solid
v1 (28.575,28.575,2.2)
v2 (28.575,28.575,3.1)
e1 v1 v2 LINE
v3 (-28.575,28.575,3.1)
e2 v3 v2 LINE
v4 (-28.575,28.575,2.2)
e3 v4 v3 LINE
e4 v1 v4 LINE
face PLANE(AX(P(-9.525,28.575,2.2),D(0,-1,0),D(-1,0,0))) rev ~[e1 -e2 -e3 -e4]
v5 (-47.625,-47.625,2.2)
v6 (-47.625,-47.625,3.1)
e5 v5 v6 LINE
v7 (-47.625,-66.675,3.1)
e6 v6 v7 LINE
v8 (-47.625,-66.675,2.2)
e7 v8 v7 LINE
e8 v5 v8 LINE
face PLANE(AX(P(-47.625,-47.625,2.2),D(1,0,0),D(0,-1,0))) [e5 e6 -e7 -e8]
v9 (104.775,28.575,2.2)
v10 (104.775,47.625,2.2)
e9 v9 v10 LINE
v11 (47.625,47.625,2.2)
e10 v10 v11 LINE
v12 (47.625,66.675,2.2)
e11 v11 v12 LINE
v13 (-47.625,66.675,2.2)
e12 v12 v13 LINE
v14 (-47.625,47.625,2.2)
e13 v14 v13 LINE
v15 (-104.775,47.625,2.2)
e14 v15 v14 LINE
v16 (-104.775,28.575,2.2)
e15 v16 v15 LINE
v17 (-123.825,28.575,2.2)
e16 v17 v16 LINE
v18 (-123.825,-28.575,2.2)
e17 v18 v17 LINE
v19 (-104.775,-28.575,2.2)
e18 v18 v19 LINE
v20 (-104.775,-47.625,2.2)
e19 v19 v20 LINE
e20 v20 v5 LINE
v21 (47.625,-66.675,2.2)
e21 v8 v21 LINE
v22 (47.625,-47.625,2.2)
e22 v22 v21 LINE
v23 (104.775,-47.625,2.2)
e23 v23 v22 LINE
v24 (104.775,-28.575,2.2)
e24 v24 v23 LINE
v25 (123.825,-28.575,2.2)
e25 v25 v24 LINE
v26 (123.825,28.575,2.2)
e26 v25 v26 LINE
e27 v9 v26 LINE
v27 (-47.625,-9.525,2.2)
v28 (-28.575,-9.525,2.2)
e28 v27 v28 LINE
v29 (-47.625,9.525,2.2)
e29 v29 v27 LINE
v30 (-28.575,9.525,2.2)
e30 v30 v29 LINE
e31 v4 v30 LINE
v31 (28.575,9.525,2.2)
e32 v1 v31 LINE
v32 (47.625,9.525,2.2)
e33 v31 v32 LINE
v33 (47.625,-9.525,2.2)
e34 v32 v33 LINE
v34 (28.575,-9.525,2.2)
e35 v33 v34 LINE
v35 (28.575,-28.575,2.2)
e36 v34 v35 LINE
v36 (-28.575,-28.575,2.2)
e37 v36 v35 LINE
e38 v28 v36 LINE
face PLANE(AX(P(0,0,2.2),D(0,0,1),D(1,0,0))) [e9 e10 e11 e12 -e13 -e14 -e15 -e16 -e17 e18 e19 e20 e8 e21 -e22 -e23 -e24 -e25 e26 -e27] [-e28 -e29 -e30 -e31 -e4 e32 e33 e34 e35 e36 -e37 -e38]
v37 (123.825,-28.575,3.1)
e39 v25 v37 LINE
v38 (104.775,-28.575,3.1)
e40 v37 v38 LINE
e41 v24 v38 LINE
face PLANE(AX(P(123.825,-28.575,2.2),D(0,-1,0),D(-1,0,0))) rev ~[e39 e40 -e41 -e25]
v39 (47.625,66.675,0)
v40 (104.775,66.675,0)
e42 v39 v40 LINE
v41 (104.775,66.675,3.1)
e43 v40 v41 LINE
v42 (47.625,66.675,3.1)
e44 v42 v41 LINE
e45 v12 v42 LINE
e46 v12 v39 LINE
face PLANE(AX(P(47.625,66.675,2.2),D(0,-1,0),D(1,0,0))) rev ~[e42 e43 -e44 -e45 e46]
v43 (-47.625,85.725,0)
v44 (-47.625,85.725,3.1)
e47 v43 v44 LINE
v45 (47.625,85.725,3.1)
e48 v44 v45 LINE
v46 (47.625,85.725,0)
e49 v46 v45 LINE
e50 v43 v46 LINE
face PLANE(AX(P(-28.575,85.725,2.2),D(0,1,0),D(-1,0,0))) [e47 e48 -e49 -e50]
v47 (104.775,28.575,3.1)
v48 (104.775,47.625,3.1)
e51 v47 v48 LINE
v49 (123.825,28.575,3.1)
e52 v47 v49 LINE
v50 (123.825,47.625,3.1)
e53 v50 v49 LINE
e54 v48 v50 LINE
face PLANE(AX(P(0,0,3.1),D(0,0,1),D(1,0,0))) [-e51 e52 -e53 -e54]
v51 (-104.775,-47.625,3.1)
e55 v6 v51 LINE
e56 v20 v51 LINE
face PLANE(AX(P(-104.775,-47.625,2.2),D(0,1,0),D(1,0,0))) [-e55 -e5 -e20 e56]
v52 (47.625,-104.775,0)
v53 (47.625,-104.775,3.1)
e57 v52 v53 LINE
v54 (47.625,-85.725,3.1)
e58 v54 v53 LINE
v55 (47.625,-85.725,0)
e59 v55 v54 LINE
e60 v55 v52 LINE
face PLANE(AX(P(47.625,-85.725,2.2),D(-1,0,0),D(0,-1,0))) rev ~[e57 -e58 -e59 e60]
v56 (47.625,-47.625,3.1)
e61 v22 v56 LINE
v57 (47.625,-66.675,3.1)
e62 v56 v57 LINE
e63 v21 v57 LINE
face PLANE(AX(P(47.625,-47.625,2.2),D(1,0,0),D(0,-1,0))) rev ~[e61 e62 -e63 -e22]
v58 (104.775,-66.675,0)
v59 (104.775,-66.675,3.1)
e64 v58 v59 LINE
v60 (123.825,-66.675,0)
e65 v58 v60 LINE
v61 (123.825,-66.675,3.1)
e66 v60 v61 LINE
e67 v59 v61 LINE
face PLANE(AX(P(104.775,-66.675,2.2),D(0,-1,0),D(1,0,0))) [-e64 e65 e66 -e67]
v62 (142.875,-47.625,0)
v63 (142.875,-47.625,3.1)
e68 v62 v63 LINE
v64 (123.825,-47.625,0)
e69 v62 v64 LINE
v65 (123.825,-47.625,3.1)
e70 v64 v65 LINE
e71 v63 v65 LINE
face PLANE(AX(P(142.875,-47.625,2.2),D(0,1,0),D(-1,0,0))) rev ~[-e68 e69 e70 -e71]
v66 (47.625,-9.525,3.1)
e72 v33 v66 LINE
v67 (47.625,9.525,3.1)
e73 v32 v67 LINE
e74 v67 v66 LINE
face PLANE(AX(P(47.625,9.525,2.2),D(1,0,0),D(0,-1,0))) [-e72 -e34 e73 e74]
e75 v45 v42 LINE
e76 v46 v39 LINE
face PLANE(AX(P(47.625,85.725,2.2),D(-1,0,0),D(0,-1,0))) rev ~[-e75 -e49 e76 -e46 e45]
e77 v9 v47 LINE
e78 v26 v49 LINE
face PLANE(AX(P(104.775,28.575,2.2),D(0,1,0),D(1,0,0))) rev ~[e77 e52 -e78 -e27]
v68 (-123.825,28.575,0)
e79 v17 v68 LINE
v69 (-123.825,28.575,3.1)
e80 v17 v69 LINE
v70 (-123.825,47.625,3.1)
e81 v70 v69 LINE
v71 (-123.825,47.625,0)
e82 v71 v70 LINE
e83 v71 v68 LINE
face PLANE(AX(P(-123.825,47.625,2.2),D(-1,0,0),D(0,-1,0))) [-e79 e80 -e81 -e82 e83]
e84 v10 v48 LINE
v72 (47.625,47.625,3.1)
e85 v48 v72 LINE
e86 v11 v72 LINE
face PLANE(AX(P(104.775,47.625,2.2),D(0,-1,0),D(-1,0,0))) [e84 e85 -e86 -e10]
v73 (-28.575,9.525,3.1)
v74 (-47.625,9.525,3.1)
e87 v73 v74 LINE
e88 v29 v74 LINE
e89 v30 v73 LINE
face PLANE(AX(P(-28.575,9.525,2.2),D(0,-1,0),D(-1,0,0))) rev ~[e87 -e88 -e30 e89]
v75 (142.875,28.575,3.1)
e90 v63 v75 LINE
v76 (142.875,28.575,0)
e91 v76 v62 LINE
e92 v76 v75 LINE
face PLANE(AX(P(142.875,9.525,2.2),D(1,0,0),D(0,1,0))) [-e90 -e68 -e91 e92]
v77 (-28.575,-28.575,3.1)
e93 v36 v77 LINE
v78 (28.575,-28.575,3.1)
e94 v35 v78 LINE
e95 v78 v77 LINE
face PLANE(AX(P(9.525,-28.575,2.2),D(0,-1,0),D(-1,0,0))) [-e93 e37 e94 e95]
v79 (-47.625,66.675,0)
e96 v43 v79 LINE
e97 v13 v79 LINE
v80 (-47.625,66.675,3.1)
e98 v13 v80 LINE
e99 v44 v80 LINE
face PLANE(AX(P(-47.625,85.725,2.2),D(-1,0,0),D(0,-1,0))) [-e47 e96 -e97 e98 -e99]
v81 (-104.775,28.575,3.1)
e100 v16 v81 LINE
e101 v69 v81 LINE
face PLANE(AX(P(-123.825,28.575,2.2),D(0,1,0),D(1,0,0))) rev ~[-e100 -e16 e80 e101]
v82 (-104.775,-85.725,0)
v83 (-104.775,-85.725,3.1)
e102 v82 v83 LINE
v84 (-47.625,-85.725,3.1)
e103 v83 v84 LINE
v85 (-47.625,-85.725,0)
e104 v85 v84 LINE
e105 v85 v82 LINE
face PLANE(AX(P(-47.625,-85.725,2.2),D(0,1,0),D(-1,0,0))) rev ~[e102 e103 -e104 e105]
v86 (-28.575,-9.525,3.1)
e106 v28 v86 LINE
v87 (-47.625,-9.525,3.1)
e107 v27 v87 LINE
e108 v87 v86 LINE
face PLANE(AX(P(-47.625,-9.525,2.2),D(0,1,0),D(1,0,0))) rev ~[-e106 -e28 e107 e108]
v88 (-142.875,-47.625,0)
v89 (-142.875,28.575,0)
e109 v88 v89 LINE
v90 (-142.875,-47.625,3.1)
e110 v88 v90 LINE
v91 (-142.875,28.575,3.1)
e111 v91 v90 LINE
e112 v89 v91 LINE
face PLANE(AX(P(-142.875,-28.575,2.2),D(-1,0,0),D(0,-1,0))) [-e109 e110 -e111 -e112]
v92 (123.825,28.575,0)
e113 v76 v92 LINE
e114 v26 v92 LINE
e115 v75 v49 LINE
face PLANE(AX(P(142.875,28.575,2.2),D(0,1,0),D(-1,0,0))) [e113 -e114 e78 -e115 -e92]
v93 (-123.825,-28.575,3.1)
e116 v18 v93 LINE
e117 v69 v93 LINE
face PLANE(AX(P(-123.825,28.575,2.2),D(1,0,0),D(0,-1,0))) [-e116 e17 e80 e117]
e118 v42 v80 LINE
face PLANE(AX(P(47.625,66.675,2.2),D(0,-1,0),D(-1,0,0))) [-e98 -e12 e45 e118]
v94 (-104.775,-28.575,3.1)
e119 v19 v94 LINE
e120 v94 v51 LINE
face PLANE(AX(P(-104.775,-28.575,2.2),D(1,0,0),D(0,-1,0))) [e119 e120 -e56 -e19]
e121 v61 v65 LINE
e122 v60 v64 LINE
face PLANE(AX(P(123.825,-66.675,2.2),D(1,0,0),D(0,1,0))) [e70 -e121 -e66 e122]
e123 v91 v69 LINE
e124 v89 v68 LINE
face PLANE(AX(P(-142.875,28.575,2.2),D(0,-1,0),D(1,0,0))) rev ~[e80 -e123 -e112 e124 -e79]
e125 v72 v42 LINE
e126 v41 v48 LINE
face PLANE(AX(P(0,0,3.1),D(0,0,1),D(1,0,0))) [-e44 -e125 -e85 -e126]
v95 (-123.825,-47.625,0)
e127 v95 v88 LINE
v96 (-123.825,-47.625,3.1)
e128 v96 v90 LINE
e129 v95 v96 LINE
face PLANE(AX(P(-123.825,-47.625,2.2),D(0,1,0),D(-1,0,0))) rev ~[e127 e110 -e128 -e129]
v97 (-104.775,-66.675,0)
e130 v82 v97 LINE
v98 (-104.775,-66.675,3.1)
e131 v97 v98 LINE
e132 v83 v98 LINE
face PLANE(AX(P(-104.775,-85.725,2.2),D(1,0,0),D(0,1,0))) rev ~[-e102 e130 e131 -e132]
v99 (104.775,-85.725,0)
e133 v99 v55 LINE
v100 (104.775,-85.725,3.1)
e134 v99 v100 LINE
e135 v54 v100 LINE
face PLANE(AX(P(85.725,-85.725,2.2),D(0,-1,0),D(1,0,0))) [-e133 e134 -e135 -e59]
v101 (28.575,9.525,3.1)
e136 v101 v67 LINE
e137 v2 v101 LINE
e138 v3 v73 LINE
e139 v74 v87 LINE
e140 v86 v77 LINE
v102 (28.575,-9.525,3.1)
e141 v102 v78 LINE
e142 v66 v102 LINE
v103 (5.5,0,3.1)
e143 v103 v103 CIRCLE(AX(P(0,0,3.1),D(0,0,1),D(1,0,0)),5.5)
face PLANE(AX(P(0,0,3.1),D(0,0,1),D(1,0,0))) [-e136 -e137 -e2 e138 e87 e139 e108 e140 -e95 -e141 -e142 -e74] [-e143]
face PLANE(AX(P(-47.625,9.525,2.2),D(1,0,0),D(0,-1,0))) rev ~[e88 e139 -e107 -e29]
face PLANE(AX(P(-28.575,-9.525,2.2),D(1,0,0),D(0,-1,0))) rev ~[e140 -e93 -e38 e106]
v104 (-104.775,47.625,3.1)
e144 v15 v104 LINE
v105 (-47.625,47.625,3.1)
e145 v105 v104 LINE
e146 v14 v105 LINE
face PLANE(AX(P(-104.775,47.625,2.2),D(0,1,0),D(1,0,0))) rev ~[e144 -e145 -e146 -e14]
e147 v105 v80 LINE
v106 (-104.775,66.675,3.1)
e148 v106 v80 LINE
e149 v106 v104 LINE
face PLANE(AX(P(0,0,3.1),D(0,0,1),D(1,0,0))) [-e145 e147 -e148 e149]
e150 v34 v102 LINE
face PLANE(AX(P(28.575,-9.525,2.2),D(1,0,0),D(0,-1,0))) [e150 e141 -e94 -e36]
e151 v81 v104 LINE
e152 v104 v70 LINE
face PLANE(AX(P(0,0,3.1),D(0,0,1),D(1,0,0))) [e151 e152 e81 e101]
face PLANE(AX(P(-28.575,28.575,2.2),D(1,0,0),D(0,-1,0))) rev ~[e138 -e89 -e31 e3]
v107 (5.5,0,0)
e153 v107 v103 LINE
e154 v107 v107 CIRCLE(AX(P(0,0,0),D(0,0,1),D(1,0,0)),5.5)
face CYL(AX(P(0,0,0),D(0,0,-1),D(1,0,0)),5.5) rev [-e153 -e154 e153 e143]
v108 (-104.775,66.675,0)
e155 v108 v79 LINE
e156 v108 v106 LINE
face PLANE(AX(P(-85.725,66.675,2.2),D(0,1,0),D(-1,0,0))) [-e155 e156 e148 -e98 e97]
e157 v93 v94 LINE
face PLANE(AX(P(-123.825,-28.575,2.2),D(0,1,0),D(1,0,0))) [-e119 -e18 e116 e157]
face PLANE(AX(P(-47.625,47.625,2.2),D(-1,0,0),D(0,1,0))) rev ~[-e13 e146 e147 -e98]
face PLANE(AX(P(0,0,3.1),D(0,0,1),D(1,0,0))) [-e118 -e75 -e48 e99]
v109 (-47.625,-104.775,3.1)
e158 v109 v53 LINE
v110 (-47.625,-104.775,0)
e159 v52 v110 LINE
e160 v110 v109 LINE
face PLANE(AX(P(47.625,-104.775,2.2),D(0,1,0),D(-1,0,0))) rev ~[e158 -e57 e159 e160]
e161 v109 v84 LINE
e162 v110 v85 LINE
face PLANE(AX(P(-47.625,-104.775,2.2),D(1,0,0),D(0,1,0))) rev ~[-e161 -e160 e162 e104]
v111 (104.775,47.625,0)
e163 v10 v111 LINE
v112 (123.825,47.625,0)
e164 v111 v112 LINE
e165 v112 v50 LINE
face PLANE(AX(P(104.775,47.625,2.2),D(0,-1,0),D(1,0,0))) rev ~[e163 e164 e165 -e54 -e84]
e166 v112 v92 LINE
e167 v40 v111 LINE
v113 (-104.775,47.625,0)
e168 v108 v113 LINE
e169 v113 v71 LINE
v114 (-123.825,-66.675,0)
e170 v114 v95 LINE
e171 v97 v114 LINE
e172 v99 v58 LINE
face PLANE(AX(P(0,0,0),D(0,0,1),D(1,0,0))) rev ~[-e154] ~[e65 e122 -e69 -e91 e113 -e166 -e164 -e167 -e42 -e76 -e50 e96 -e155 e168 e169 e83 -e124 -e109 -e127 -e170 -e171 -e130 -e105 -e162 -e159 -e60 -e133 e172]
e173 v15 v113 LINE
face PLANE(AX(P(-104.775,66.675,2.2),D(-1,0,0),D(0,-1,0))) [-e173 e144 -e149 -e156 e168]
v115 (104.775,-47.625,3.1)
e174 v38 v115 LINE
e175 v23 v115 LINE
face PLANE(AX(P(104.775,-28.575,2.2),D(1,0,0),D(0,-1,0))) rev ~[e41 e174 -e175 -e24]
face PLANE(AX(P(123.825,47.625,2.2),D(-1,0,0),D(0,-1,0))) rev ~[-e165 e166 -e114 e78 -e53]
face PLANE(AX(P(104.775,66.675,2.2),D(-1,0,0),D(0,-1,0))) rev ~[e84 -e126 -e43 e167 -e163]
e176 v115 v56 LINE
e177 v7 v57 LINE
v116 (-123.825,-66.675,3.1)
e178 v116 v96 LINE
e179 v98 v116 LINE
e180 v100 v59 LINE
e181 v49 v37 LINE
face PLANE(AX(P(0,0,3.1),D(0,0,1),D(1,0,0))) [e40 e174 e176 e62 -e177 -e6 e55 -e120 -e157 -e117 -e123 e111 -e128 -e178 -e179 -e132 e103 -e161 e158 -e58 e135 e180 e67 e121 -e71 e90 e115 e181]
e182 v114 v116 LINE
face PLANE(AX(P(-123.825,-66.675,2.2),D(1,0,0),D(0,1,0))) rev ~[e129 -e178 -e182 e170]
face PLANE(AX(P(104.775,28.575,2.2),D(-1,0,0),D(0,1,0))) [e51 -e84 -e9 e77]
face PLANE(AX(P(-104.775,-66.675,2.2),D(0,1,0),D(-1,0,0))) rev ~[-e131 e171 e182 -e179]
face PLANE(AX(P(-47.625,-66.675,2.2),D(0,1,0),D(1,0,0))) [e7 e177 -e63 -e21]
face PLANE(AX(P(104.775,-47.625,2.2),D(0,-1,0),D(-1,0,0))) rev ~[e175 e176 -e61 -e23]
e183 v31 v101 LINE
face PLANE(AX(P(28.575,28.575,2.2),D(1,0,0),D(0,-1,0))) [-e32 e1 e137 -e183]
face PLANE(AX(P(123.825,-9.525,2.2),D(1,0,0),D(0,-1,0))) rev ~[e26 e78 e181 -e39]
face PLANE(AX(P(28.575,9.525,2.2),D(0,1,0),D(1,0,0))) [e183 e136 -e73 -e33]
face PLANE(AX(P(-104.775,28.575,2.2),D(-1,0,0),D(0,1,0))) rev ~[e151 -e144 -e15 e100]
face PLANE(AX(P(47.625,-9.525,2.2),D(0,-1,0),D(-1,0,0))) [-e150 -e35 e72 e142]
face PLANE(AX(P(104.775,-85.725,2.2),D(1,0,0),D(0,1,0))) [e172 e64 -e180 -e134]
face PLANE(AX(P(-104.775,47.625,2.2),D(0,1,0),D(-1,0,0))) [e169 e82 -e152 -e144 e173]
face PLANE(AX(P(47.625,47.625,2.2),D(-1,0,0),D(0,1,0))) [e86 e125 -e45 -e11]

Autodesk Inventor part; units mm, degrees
ref_plane "YZ Plane" through (0, 0, 0) normal (1, 0, 0) x (0, 1, 0)
ref_plane "XZ Plane" through (0, 0, 0) normal (0, 1, 0) x (-1, 0, 0)
ref_plane "XY Plane" through (0, 0, 0) normal (0, 0, 1) x (1, 0, 0)
sketch "Sketch1" plane through (0, 0, 0) normal (0, 0, 1) x (1, 0, 0)
  circle A0 centre (0, 0) radius 152.4
  circle A1 centre (0, 0) radius 5.5
  dimension "d0" = 304.8
  dimension "d1" = 11
extrude "Extrusion1" add sketch "Sketch1" along normal blind 2.2
fillet "Fillet1" radius 1.1 2 edges at (-152.4, 0, 0) (-152.4, 0, 2.2)
sketch "Sketch2" plane through (0, 0, 2.2) normal (0, 0, 1) x (1, 0, 0)
  line L0 (206.2137, 42.4617) -> (289.822, 42.4617) construction
  line L1 (289.822, 42.4617) -> (289.822, -13.3654) construction
  line L2 (289.822, -13.3654) -> (206.2137, -13.3654) construction
  line L3 (206.2137, -13.3654) -> (206.2137, 42.4617) construction
  line L4 (9.525, 9.525) -> (-9.525, 9.525)
  line L5 (-9.525, 9.525) -> (-9.525, -9.525)
  line L6 (-9.525, -9.525) -> (9.525, -9.525)
  line L7 (9.525, -9.525) -> (9.525, 9.525)
  line L8 (-123.825, 28.575) -> (-104.775, 28.575)
  line L9 (-85.725, 28.575) -> (-66.675, 28.575)
  line L10 (-85.725, 28.575) -> (-104.775, 28.575)
  line L11 (-9.525, 28.575) -> (-28.575, 28.575)
  line L12 (-47.625, 28.575) -> (-28.575, 28.575)
  line L13 (-47.625, 28.575) -> (-66.675, 28.575)
  line L14 (-9.525, 9.525) -> (-9.525, 28.575)
  line L15 (-9.525, 28.575) -> (9.525, 28.575)
  line L16 (9.525, 28.575) -> (9.525, 9.525)
  line L17 (-9.525, -28.575) -> (-9.525, -9.525)
  line L18 (9.525, -9.525) -> (9.525, -28.575)
  line L19 (-123.825, -47.625) -> (-142.875, -47.625)
  line L20 (-123.825, -47.625) -> (-104.775, -47.625)
  line L21 (-85.725, -47.625) -> (-104.775, -47.625)
  line L22 (-85.725, -47.625) -> (-66.675, -47.625)
  line L23 (-47.625, -47.625) -> (-66.675, -47.625)
  line L24 (-47.625, -47.625) -> (-28.575, -47.625)
  line L25 (-9.525, -47.625) -> (-28.575, -47.625)
  line L26 (-9.525, -28.575) -> (-9.525, -47.625)
  line L27 (9.525, -47.625) -> (9.525, -28.575)
  line L28 (142.875, 28.575) -> (123.825, 28.575)
  line L29 (104.775, 28.575) -> (123.825, 28.575)
  line L30 (104.775, 28.575) -> (85.725, 28.575)
  line L31 (66.675, 28.575) -> (85.725, 28.575)
  line L32 (66.675, 28.575) -> (47.625, 28.575)
  line L33 (28.575, 28.575) -> (47.625, 28.575)
  line L34 (28.575, 28.575) -> (9.525, 28.575)
  line L35 (104.775, -47.625) -> (123.825, -47.625)
  line L36 (104.775, -47.625) -> (85.725, -47.625)
  line L37 (142.875, -47.625) -> (123.825, -47.625)
  line L38 (66.675, -47.625) -> (85.725, -47.625)
  line L39 (66.675, -47.625) -> (47.625, -47.625)
  line L40 (28.575, -47.625) -> (47.625, -47.625)
  line L41 (28.575, -47.625) -> (9.525, -47.625)
  line L42 (0, 9.525) -> (0, -9.525)
  line L43 (-9.525, 0) -> (9.525, 0)
  line L44 (0, 0) -> (-4.1012, 3.8959)
  line L45 (-142.875, 28.575) -> (-123.825, 28.575)
  line L46 (-123.825, 28.575) -> (-123.825, 9.525)
  line L47 (-123.825, 9.525) -> (-142.875, 9.525)
  line L48 (-142.875, 9.525) -> (-142.875, 28.575)
  line L49 (-142.875, -9.525) -> (-123.825, -9.525)
  line L50 (-123.825, -9.525) -> (-123.825, 9.525)
  line L51 (-142.875, 9.525) -> (-142.875, -9.525)
  line L52 (-123.825, -47.625) -> (-123.825, -28.575)
  line L53 (-123.825, -28.575) -> (-142.875, -28.575)
  line L54 (-142.875, -28.575) -> (-142.875, -47.625)
  line L55 (-123.825, -9.525) -> (-123.825, -28.575)
  line L56 (-142.875, -28.575) -> (-142.875, -9.525)
  line L57 (123.825, -47.625) -> (142.875, -47.625)
  line L58 (142.875, 28.575) -> (123.825, 28.575)
  line L59 (123.825, 28.575) -> (123.825, 9.525)
  line L60 (123.825, 9.525) -> (142.875, 9.525)
  line L61 (142.875, 9.525) -> (142.875, 28.575)
  line L62 (123.825, -9.525) -> (123.825, 9.525)
  line L63 (142.875, -9.525) -> (123.825, -9.525)
  line L64 (142.875, 9.525) -> (142.875, -9.525)
  line L65 (123.825, -9.525) -> (123.825, -28.575)
  line L66 (123.825, -47.625) -> (123.825, -28.575)
  line L67 (142.875, -28.575) -> (142.875, -9.525)
  line L68 (123.825, -28.575) -> (142.875, -28.575)
  line L69 (142.875, -28.575) -> (142.875, -47.625)
  line L70 (-123.825, 28.575) -> (-104.775, 28.575)
  line L71 (-104.775, 28.575) -> (-104.775, 47.625)
  line L72 (-104.775, 47.625) -> (-123.825, 47.625)
  line L73 (-123.825, 47.625) -> (-123.825, 28.575)
  line L74 (123.825, 28.575) -> (104.775, 28.575)
  line L75 (104.775, 28.575) -> (104.775, 47.625)
  line L76 (104.775, 47.625) -> (123.825, 47.625)
  line L77 (123.825, 47.625) -> (123.825, 28.575)
  line L78 (123.825, -47.625) -> (104.775, -47.625)
  line L79 (104.775, -47.625) -> (104.775, -66.675)
  line L80 (104.775, -66.675) -> (123.825, -66.675)
  line L81 (123.825, -66.675) -> (123.825, -47.625)
  line L82 (-123.825, -47.625) -> (-104.775, -47.625)
  line L83 (-104.775, -47.625) -> (-104.775, -66.675)
  line L84 (-104.775, -66.675) -> (-123.825, -66.675)
  line L85 (-123.825, -66.675) -> (-123.825, -47.625)
  line L86 (104.775, -66.675) -> (85.725, -66.675)
  line L87 (85.725, -66.675) -> (85.725, -85.725)
  line L88 (85.725, -85.725) -> (104.775, -85.725)
  line L89 (104.775, -85.725) -> (104.775, -66.675)
  line L90 (-104.775, -66.675) -> (-85.725, -66.675)
  line L91 (-85.725, -66.675) -> (-85.725, -85.725)
  line L92 (-85.725, -85.725) -> (-104.775, -85.725)
  line L93 (-104.775, -85.725) -> (-104.775, -66.675)
  line L94 (-66.675, -66.675) -> (-85.725, -66.675)
  line L95 (-85.725, -85.725) -> (-66.675, -85.725)
  line L96 (-66.675, -85.725) -> (-66.675, -66.675)
  line L97 (-47.625, -66.675) -> (-47.625, -85.725)
  line L98 (-47.625, -85.725) -> (-66.675, -85.725)
  line L99 (-66.675, -66.675) -> (-47.625, -66.675)
  line L100 (66.675, -66.675) -> (85.725, -66.675)
  line L101 (85.725, -85.725) -> (66.675, -85.725)
  line L102 (66.675, -85.725) -> (66.675, -66.675)
  line L103 (47.625, -66.675) -> (47.625, -85.725)
  line L104 (66.675, -66.675) -> (47.625, -66.675)
  line L105 (47.625, -85.725) -> (66.675, -85.725)
  line L106 (-47.625, -85.725) -> (-28.575, -85.725)
  line L107 (-28.575, -85.725) -> (-28.575, -104.775)
  line L108 (-28.575, -104.775) -> (-47.625, -104.775)
  line L109 (-47.625, -104.775) -> (-47.625, -85.725)
  line L110 (-9.525, -85.725) -> (-28.575, -85.725)
  line L111 (-28.575, -104.775) -> (-9.525, -104.775)
  line L112 (-9.525, -104.775) -> (-9.525, -85.725)
  line L113 (28.575, -85.725) -> (9.525, -85.725)
  line L114 (9.525, -85.725) -> (9.525, -104.775)
  line L115 (9.525, -104.775) -> (28.575, -104.775)
  line L116 (28.575, -104.775) -> (28.575, -85.725)
  line L117 (-9.525, -85.725) -> (9.525, -85.725)
  line L118 (9.525, -104.775) -> (-9.525, -104.775)
  line L119 (28.575, -85.725) -> (47.625, -85.725)
  line L120 (47.625, -85.725) -> (47.625, -104.775)
  line L121 (47.625, -104.775) -> (28.575, -104.775)
  line L122 (-104.775, 47.625) -> (-85.725, 47.625)
  line L123 (-85.725, 47.625) -> (-85.725, 66.675)
  line L124 (-85.725, 66.675) -> (-104.775, 66.675)
  line L125 (-104.775, 66.675) -> (-104.775, 47.625)
  line L126 (104.775, 47.625) -> (85.725, 47.625)
  line L127 (85.725, 47.625) -> (85.725, 66.675)
  line L128 (85.725, 66.675) -> (104.775, 66.675)
  line L129 (104.775, 66.675) -> (104.775, 47.625)
  line L130 (-66.675, 47.625) -> (-85.725, 47.625)
  line L131 (-85.725, 66.675) -> (-66.675, 66.675)
  line L132 (-66.675, 66.675) -> (-66.675, 47.625)
  line L133 (-47.625, 47.625) -> (-47.625, 66.675)
  line L134 (-66.675, 47.625) -> (-47.625, 47.625)
  line L135 (-47.625, 66.675) -> (-66.675, 66.675)
  line L136 (66.675, 47.625) -> (85.725, 47.625)
  line L137 (85.725, 66.675) -> (66.675, 66.675)
  line L138 (66.675, 66.675) -> (66.675, 47.625)
  line L139 (47.625, 47.625) -> (47.625, 66.675)
  line L140 (66.675, 47.625) -> (47.625, 47.625)
  line L141 (47.625, 66.675) -> (66.675, 66.675)
  line L142 (-47.625, 66.675) -> (-28.575, 66.675)
  line L143 (-28.575, 66.675) -> (-28.575, 85.725)
  line L144 (-28.575, 85.725) -> (-47.625, 85.725)
  line L145 (-47.625, 85.725) -> (-47.625, 66.675)
  line L146 (47.625, 66.675) -> (28.575, 66.675)
  line L147 (28.575, 66.675) -> (28.575, 85.725)
  line L148 (28.575, 85.725) -> (47.625, 85.725)
  line L149 (47.625, 85.725) -> (47.625, 66.675)
  line L150 (-9.525, 66.675) -> (-28.575, 66.675)
  line L151 (-28.575, 85.725) -> (-9.525, 85.725)
  line L152 (-9.525, 85.725) -> (-9.525, 66.675)
  line L153 (28.575, 66.675) -> (9.525, 66.675)
  line L154 (9.525, 66.675) -> (9.525, 85.725)
  line L155 (9.525, 85.725) -> (28.575, 85.725)
  line L156 (28.575, 85.725) -> (28.575, 66.675)
  line L157 (-9.525, 66.675) -> (9.525, 66.675)
  line L158 (9.525, 85.725) -> (-9.525, 85.725)
  circle A0 centre (0, 0) radius 225.16
  point P0 (-123.825, -9.525)
  point P1 (-123.825, -47.625)
  point P2 (123.825, -9.525)
  dimension "d22" = 19.05
  dimension "d23" = 19.05
  dimension "d29" = 19.05
  dimension "d30" = 19.05
  dimension "d31" = 19.05
  dimension "d32" = 19.05
  dimension "d33" = 19.05
  dimension "d34" = 19.05
  dimension "d35" = 19.05
  dimension "d36" = 19.05
  dimension "d39" = 19.05
  dimension "d40" = 19.05
  dimension "d45" = 19.05
  dimension "d46" = 19.05
  dimension "d50" = 19.05
  dimension "d51" = 19.05
  dimension "d52" = 19.05
  dimension "d53" = 19.05
  dimension "d58" = 19.05
  dimension "d59" = 19.05
  dimension "d60" = 19.05
  dimension "d61" = 19.05
extrude "Extrusion2" cut sketch "Sketch2" against normal blind 25.4
sketch "Sketch3" plane through (0, 0, 2.2) normal (0, 0, 1) x (1, 0, 0)
  line L0 (194.8549, 38.1597) -> (278.4632, 38.1597) construction
  line L1 (278.4632, 38.1597) -> (278.4632, -17.6674) construction
  line L2 (278.4632, -17.6674) -> (194.8549, -17.6674) construction
  line L3 (194.8549, -17.6674) -> (194.8549, 38.1597) construction
  line L4 (-123.825, 28.575) -> (-104.775, 28.575)
  line L5 (-123.825, -47.625) -> (-142.875, -47.625)
  line L6 (104.775, 28.575) -> (123.825, 28.575)
  line L7 (142.875, 28.575) -> (123.825, 28.575)
  line L8 (142.875, -47.625) -> (123.825, -47.625)
  line L9 (-142.875, 28.575) -> (-123.825, 28.575)
  line L10 (-123.825, 28.575) -> (-123.825, 9.525)
  line L11 (-142.875, 9.525) -> (-142.875, 28.575)
  line L12 (-123.825, -9.525) -> (-123.825, 9.525)
  line L13 (-142.875, 9.525) -> (-142.875, -9.525)
  line L14 (-123.825, -9.525) -> (-123.825, -28.575)
  line L15 (-142.875, -28.575) -> (-142.875, -9.525)
  line L16 (-142.875, -28.575) -> (-142.875, -47.625)
  line L17 (123.825, -9.525) -> (123.825, 9.525)
  line L18 (142.875, 9.525) -> (142.875, -9.525)
  line L19 (123.825, 28.575) -> (123.825, 9.525)
  line L20 (142.875, 9.525) -> (142.875, 28.575)
  line L21 (142.875, 28.575) -> (123.825, 28.575)
  line L22 (123.825, -9.525) -> (123.825, -28.575)
  line L23 (142.875, -28.575) -> (142.875, -9.525)
  line L24 (142.875, -28.575) -> (142.875, -47.625)
  line L25 (123.825, -47.625) -> (142.875, -47.625)
  line L26 (-123.825, 28.575) -> (-104.775, 28.575)
  line L27 (-104.775, 28.575) -> (-104.775, 47.625)
  line L28 (-104.775, 47.625) -> (-123.825, 47.625)
  line L29 (-123.825, 47.625) -> (-123.825, 28.575)
  line L30 (123.825, 28.575) -> (104.775, 28.575)
  line L31 (104.775, 28.575) -> (104.775, 47.625)
  line L32 (104.775, 47.625) -> (123.825, 47.625)
  line L33 (123.825, 47.625) -> (123.825, 28.575)
  line L34 (104.775, -66.675) -> (123.825, -66.675)
  line L35 (123.825, -66.675) -> (123.825, -47.625)
  line L36 (-104.775, -66.675) -> (-123.825, -66.675)
  line L37 (-123.825, -66.675) -> (-123.825, -47.625)
  line L38 (85.725, -85.725) -> (104.775, -85.725)
  line L39 (104.775, -85.725) -> (104.775, -66.675)
  line L40 (-85.725, -85.725) -> (-104.775, -85.725)
  line L41 (-104.775, -85.725) -> (-104.775, -66.675)
  line L42 (-85.725, -85.725) -> (-66.675, -85.725)
  line L43 (-47.625, -85.725) -> (-66.675, -85.725)
  line L44 (85.725, -85.725) -> (66.675, -85.725)
  line L45 (47.625, -85.725) -> (66.675, -85.725)
  line L46 (-28.575, -104.775) -> (-47.625, -104.775)
  line L47 (-47.625, -104.775) -> (-47.625, -85.725)
  line L48 (-28.575, -104.775) -> (-9.525, -104.775)
  line L49 (9.525, -104.775) -> (-9.525, -104.775)
  line L50 (9.525, -104.775) -> (28.575, -104.775)
  line L51 (47.625, -85.725) -> (47.625, -104.775)
  line L52 (47.625, -104.775) -> (28.575, -104.775)
  line L53 (-104.775, 47.625) -> (-85.725, 47.625)
  line L54 (-85.725, 66.675) -> (-104.775, 66.675)
  line L55 (-104.775, 66.675) -> (-104.775, 47.625)
  line L56 (104.775, 66.675) -> (104.775, 47.625)
  line L57 (-66.675, 47.625) -> (-85.725, 47.625)
  line L58 (-85.725, 66.675) -> (-66.675, 66.675)
  line L59 (-66.675, 47.625) -> (-47.625, 47.625)
  line L60 (-47.625, 66.675) -> (-66.675, 66.675)
  line L61 (-47.625, 47.625) -> (-47.625, 66.675)
  line L62 (-47.625, 85.725) -> (-47.625, 66.675)
  circle A0 centre (0, 0) radius 225.16
  line L63 (-47.625, 85.725) -> (47.625, 85.725)
  line L64 (47.625, 85.725) -> (47.625, 66.675)
  line L65 (47.625, 66.675) -> (-47.625, 66.675)
  line L66 (-47.625, 66.675) -> (-47.625, 85.725)
  line L67 (47.625, 66.675) -> (104.775, 66.675)
  line L68 (104.775, 66.675) -> (104.775, 47.625)
  line L69 (104.775, 47.625) -> (47.625, 47.625)
  line L70 (47.625, 47.625) -> (47.625, 66.675)
  line L71 (-123.825, -28.575) -> (-104.775, -28.575)
  line L72 (-104.775, -28.575) -> (-104.775, -47.625)
  line L73 (-104.775, -47.625) -> (-85.725, -47.625)
  line L74 (-85.725, -47.625) -> (-47.625, -47.625)
  line L75 (-47.625, -47.625) -> (-47.625, -66.675)
  line L76 (-47.625, -66.675) -> (47.625, -66.675)
  line L77 (104.775, -47.625) -> (47.625, -47.625)
  line L78 (47.625, -47.625) -> (47.625, -66.675)
  line L79 (123.825, -28.575) -> (104.775, -28.575)
  line L80 (104.775, -28.575) -> (104.775, -47.625)
  line L81 (9.525, -28.575) -> (-9.525, -28.575)
  line L82 (28.575, -9.525) -> (28.575, -28.575)
  line L83 (28.575, -28.575) -> (9.525, -28.575)
  line L84 (-28.575, -9.525) -> (-28.575, -28.575)
  line L85 (-28.575, -28.575) -> (-9.525, -28.575)
  line L86 (-9.525, 28.575) -> (-28.575, 28.575)
  line L87 (-28.575, 28.575) -> (-28.575, 9.525)
  line L88 (-9.525, 28.575) -> (9.525, 28.575)
  line L89 (9.525, 28.575) -> (28.575, 28.575)
  line L90 (28.575, 28.575) -> (28.575, 9.525)
  line L91 (28.575, 9.525) -> (47.625, 9.525)
  line L92 (47.625, 9.525) -> (47.625, -9.525)
  line L93 (47.625, -9.525) -> (28.575, -9.525)
  line L94 (-28.575, 9.525) -> (-47.625, 9.525)
  line L95 (-47.625, 9.525) -> (-47.625, -9.525)
  line L96 (-47.625, -9.525) -> (-28.575, -9.525)
  circle A1 centre (0, 0) radius 5.5
  point P0 (-123.825, -9.525)
  point P1 (-123.825, -47.625)
  point P2 (123.825, -9.525)
  point P3 (112.4662, 24.273)
  point P4 (112.4662, -51.927)
  point P5 (-135.1838, -51.927)
  dimension "d94" = 19.05
  dimension "d96" = 19.05
  dimension "d97" = 19.05
  dimension "d98" = 19.05
  dimension "d99" = 19.05
  dimension "d100" = 19.05
  dimension "d102" = 19.05
  dimension "d103" = 19.05
  dimension "d104" = 19.05
  dimension "d105" = 19.05
extrude "Extrusion3" add sketch "Sketch3" along normal blind 0.9 contours L29 L28 L27 L4 | L10 L12 L14 L71 L72 L73 L74 L75 L76 L78 L77 L80 L79 L22 L17 L19 L7 L20 L18 L23 L24 L8 L35 L34 L39 L38 L44 L45 L51 L52 L50 L49 L48 L46 L47 L43 L42 L40 L41 L36 L37 L5 L16 L15 L13 L11 L9 | L55 L54 L58 L60 L61 L59 L57 L53 | L62 L63 L64 L65 | L67 L56 L69 L70 | L32 L33 L6 L31 | L81 L85 L84 L96 L95 L94 L87 L86 L88 L89 L90 L91 L92 L93 L82 L83
properties part number "horizantal cut norm center"
